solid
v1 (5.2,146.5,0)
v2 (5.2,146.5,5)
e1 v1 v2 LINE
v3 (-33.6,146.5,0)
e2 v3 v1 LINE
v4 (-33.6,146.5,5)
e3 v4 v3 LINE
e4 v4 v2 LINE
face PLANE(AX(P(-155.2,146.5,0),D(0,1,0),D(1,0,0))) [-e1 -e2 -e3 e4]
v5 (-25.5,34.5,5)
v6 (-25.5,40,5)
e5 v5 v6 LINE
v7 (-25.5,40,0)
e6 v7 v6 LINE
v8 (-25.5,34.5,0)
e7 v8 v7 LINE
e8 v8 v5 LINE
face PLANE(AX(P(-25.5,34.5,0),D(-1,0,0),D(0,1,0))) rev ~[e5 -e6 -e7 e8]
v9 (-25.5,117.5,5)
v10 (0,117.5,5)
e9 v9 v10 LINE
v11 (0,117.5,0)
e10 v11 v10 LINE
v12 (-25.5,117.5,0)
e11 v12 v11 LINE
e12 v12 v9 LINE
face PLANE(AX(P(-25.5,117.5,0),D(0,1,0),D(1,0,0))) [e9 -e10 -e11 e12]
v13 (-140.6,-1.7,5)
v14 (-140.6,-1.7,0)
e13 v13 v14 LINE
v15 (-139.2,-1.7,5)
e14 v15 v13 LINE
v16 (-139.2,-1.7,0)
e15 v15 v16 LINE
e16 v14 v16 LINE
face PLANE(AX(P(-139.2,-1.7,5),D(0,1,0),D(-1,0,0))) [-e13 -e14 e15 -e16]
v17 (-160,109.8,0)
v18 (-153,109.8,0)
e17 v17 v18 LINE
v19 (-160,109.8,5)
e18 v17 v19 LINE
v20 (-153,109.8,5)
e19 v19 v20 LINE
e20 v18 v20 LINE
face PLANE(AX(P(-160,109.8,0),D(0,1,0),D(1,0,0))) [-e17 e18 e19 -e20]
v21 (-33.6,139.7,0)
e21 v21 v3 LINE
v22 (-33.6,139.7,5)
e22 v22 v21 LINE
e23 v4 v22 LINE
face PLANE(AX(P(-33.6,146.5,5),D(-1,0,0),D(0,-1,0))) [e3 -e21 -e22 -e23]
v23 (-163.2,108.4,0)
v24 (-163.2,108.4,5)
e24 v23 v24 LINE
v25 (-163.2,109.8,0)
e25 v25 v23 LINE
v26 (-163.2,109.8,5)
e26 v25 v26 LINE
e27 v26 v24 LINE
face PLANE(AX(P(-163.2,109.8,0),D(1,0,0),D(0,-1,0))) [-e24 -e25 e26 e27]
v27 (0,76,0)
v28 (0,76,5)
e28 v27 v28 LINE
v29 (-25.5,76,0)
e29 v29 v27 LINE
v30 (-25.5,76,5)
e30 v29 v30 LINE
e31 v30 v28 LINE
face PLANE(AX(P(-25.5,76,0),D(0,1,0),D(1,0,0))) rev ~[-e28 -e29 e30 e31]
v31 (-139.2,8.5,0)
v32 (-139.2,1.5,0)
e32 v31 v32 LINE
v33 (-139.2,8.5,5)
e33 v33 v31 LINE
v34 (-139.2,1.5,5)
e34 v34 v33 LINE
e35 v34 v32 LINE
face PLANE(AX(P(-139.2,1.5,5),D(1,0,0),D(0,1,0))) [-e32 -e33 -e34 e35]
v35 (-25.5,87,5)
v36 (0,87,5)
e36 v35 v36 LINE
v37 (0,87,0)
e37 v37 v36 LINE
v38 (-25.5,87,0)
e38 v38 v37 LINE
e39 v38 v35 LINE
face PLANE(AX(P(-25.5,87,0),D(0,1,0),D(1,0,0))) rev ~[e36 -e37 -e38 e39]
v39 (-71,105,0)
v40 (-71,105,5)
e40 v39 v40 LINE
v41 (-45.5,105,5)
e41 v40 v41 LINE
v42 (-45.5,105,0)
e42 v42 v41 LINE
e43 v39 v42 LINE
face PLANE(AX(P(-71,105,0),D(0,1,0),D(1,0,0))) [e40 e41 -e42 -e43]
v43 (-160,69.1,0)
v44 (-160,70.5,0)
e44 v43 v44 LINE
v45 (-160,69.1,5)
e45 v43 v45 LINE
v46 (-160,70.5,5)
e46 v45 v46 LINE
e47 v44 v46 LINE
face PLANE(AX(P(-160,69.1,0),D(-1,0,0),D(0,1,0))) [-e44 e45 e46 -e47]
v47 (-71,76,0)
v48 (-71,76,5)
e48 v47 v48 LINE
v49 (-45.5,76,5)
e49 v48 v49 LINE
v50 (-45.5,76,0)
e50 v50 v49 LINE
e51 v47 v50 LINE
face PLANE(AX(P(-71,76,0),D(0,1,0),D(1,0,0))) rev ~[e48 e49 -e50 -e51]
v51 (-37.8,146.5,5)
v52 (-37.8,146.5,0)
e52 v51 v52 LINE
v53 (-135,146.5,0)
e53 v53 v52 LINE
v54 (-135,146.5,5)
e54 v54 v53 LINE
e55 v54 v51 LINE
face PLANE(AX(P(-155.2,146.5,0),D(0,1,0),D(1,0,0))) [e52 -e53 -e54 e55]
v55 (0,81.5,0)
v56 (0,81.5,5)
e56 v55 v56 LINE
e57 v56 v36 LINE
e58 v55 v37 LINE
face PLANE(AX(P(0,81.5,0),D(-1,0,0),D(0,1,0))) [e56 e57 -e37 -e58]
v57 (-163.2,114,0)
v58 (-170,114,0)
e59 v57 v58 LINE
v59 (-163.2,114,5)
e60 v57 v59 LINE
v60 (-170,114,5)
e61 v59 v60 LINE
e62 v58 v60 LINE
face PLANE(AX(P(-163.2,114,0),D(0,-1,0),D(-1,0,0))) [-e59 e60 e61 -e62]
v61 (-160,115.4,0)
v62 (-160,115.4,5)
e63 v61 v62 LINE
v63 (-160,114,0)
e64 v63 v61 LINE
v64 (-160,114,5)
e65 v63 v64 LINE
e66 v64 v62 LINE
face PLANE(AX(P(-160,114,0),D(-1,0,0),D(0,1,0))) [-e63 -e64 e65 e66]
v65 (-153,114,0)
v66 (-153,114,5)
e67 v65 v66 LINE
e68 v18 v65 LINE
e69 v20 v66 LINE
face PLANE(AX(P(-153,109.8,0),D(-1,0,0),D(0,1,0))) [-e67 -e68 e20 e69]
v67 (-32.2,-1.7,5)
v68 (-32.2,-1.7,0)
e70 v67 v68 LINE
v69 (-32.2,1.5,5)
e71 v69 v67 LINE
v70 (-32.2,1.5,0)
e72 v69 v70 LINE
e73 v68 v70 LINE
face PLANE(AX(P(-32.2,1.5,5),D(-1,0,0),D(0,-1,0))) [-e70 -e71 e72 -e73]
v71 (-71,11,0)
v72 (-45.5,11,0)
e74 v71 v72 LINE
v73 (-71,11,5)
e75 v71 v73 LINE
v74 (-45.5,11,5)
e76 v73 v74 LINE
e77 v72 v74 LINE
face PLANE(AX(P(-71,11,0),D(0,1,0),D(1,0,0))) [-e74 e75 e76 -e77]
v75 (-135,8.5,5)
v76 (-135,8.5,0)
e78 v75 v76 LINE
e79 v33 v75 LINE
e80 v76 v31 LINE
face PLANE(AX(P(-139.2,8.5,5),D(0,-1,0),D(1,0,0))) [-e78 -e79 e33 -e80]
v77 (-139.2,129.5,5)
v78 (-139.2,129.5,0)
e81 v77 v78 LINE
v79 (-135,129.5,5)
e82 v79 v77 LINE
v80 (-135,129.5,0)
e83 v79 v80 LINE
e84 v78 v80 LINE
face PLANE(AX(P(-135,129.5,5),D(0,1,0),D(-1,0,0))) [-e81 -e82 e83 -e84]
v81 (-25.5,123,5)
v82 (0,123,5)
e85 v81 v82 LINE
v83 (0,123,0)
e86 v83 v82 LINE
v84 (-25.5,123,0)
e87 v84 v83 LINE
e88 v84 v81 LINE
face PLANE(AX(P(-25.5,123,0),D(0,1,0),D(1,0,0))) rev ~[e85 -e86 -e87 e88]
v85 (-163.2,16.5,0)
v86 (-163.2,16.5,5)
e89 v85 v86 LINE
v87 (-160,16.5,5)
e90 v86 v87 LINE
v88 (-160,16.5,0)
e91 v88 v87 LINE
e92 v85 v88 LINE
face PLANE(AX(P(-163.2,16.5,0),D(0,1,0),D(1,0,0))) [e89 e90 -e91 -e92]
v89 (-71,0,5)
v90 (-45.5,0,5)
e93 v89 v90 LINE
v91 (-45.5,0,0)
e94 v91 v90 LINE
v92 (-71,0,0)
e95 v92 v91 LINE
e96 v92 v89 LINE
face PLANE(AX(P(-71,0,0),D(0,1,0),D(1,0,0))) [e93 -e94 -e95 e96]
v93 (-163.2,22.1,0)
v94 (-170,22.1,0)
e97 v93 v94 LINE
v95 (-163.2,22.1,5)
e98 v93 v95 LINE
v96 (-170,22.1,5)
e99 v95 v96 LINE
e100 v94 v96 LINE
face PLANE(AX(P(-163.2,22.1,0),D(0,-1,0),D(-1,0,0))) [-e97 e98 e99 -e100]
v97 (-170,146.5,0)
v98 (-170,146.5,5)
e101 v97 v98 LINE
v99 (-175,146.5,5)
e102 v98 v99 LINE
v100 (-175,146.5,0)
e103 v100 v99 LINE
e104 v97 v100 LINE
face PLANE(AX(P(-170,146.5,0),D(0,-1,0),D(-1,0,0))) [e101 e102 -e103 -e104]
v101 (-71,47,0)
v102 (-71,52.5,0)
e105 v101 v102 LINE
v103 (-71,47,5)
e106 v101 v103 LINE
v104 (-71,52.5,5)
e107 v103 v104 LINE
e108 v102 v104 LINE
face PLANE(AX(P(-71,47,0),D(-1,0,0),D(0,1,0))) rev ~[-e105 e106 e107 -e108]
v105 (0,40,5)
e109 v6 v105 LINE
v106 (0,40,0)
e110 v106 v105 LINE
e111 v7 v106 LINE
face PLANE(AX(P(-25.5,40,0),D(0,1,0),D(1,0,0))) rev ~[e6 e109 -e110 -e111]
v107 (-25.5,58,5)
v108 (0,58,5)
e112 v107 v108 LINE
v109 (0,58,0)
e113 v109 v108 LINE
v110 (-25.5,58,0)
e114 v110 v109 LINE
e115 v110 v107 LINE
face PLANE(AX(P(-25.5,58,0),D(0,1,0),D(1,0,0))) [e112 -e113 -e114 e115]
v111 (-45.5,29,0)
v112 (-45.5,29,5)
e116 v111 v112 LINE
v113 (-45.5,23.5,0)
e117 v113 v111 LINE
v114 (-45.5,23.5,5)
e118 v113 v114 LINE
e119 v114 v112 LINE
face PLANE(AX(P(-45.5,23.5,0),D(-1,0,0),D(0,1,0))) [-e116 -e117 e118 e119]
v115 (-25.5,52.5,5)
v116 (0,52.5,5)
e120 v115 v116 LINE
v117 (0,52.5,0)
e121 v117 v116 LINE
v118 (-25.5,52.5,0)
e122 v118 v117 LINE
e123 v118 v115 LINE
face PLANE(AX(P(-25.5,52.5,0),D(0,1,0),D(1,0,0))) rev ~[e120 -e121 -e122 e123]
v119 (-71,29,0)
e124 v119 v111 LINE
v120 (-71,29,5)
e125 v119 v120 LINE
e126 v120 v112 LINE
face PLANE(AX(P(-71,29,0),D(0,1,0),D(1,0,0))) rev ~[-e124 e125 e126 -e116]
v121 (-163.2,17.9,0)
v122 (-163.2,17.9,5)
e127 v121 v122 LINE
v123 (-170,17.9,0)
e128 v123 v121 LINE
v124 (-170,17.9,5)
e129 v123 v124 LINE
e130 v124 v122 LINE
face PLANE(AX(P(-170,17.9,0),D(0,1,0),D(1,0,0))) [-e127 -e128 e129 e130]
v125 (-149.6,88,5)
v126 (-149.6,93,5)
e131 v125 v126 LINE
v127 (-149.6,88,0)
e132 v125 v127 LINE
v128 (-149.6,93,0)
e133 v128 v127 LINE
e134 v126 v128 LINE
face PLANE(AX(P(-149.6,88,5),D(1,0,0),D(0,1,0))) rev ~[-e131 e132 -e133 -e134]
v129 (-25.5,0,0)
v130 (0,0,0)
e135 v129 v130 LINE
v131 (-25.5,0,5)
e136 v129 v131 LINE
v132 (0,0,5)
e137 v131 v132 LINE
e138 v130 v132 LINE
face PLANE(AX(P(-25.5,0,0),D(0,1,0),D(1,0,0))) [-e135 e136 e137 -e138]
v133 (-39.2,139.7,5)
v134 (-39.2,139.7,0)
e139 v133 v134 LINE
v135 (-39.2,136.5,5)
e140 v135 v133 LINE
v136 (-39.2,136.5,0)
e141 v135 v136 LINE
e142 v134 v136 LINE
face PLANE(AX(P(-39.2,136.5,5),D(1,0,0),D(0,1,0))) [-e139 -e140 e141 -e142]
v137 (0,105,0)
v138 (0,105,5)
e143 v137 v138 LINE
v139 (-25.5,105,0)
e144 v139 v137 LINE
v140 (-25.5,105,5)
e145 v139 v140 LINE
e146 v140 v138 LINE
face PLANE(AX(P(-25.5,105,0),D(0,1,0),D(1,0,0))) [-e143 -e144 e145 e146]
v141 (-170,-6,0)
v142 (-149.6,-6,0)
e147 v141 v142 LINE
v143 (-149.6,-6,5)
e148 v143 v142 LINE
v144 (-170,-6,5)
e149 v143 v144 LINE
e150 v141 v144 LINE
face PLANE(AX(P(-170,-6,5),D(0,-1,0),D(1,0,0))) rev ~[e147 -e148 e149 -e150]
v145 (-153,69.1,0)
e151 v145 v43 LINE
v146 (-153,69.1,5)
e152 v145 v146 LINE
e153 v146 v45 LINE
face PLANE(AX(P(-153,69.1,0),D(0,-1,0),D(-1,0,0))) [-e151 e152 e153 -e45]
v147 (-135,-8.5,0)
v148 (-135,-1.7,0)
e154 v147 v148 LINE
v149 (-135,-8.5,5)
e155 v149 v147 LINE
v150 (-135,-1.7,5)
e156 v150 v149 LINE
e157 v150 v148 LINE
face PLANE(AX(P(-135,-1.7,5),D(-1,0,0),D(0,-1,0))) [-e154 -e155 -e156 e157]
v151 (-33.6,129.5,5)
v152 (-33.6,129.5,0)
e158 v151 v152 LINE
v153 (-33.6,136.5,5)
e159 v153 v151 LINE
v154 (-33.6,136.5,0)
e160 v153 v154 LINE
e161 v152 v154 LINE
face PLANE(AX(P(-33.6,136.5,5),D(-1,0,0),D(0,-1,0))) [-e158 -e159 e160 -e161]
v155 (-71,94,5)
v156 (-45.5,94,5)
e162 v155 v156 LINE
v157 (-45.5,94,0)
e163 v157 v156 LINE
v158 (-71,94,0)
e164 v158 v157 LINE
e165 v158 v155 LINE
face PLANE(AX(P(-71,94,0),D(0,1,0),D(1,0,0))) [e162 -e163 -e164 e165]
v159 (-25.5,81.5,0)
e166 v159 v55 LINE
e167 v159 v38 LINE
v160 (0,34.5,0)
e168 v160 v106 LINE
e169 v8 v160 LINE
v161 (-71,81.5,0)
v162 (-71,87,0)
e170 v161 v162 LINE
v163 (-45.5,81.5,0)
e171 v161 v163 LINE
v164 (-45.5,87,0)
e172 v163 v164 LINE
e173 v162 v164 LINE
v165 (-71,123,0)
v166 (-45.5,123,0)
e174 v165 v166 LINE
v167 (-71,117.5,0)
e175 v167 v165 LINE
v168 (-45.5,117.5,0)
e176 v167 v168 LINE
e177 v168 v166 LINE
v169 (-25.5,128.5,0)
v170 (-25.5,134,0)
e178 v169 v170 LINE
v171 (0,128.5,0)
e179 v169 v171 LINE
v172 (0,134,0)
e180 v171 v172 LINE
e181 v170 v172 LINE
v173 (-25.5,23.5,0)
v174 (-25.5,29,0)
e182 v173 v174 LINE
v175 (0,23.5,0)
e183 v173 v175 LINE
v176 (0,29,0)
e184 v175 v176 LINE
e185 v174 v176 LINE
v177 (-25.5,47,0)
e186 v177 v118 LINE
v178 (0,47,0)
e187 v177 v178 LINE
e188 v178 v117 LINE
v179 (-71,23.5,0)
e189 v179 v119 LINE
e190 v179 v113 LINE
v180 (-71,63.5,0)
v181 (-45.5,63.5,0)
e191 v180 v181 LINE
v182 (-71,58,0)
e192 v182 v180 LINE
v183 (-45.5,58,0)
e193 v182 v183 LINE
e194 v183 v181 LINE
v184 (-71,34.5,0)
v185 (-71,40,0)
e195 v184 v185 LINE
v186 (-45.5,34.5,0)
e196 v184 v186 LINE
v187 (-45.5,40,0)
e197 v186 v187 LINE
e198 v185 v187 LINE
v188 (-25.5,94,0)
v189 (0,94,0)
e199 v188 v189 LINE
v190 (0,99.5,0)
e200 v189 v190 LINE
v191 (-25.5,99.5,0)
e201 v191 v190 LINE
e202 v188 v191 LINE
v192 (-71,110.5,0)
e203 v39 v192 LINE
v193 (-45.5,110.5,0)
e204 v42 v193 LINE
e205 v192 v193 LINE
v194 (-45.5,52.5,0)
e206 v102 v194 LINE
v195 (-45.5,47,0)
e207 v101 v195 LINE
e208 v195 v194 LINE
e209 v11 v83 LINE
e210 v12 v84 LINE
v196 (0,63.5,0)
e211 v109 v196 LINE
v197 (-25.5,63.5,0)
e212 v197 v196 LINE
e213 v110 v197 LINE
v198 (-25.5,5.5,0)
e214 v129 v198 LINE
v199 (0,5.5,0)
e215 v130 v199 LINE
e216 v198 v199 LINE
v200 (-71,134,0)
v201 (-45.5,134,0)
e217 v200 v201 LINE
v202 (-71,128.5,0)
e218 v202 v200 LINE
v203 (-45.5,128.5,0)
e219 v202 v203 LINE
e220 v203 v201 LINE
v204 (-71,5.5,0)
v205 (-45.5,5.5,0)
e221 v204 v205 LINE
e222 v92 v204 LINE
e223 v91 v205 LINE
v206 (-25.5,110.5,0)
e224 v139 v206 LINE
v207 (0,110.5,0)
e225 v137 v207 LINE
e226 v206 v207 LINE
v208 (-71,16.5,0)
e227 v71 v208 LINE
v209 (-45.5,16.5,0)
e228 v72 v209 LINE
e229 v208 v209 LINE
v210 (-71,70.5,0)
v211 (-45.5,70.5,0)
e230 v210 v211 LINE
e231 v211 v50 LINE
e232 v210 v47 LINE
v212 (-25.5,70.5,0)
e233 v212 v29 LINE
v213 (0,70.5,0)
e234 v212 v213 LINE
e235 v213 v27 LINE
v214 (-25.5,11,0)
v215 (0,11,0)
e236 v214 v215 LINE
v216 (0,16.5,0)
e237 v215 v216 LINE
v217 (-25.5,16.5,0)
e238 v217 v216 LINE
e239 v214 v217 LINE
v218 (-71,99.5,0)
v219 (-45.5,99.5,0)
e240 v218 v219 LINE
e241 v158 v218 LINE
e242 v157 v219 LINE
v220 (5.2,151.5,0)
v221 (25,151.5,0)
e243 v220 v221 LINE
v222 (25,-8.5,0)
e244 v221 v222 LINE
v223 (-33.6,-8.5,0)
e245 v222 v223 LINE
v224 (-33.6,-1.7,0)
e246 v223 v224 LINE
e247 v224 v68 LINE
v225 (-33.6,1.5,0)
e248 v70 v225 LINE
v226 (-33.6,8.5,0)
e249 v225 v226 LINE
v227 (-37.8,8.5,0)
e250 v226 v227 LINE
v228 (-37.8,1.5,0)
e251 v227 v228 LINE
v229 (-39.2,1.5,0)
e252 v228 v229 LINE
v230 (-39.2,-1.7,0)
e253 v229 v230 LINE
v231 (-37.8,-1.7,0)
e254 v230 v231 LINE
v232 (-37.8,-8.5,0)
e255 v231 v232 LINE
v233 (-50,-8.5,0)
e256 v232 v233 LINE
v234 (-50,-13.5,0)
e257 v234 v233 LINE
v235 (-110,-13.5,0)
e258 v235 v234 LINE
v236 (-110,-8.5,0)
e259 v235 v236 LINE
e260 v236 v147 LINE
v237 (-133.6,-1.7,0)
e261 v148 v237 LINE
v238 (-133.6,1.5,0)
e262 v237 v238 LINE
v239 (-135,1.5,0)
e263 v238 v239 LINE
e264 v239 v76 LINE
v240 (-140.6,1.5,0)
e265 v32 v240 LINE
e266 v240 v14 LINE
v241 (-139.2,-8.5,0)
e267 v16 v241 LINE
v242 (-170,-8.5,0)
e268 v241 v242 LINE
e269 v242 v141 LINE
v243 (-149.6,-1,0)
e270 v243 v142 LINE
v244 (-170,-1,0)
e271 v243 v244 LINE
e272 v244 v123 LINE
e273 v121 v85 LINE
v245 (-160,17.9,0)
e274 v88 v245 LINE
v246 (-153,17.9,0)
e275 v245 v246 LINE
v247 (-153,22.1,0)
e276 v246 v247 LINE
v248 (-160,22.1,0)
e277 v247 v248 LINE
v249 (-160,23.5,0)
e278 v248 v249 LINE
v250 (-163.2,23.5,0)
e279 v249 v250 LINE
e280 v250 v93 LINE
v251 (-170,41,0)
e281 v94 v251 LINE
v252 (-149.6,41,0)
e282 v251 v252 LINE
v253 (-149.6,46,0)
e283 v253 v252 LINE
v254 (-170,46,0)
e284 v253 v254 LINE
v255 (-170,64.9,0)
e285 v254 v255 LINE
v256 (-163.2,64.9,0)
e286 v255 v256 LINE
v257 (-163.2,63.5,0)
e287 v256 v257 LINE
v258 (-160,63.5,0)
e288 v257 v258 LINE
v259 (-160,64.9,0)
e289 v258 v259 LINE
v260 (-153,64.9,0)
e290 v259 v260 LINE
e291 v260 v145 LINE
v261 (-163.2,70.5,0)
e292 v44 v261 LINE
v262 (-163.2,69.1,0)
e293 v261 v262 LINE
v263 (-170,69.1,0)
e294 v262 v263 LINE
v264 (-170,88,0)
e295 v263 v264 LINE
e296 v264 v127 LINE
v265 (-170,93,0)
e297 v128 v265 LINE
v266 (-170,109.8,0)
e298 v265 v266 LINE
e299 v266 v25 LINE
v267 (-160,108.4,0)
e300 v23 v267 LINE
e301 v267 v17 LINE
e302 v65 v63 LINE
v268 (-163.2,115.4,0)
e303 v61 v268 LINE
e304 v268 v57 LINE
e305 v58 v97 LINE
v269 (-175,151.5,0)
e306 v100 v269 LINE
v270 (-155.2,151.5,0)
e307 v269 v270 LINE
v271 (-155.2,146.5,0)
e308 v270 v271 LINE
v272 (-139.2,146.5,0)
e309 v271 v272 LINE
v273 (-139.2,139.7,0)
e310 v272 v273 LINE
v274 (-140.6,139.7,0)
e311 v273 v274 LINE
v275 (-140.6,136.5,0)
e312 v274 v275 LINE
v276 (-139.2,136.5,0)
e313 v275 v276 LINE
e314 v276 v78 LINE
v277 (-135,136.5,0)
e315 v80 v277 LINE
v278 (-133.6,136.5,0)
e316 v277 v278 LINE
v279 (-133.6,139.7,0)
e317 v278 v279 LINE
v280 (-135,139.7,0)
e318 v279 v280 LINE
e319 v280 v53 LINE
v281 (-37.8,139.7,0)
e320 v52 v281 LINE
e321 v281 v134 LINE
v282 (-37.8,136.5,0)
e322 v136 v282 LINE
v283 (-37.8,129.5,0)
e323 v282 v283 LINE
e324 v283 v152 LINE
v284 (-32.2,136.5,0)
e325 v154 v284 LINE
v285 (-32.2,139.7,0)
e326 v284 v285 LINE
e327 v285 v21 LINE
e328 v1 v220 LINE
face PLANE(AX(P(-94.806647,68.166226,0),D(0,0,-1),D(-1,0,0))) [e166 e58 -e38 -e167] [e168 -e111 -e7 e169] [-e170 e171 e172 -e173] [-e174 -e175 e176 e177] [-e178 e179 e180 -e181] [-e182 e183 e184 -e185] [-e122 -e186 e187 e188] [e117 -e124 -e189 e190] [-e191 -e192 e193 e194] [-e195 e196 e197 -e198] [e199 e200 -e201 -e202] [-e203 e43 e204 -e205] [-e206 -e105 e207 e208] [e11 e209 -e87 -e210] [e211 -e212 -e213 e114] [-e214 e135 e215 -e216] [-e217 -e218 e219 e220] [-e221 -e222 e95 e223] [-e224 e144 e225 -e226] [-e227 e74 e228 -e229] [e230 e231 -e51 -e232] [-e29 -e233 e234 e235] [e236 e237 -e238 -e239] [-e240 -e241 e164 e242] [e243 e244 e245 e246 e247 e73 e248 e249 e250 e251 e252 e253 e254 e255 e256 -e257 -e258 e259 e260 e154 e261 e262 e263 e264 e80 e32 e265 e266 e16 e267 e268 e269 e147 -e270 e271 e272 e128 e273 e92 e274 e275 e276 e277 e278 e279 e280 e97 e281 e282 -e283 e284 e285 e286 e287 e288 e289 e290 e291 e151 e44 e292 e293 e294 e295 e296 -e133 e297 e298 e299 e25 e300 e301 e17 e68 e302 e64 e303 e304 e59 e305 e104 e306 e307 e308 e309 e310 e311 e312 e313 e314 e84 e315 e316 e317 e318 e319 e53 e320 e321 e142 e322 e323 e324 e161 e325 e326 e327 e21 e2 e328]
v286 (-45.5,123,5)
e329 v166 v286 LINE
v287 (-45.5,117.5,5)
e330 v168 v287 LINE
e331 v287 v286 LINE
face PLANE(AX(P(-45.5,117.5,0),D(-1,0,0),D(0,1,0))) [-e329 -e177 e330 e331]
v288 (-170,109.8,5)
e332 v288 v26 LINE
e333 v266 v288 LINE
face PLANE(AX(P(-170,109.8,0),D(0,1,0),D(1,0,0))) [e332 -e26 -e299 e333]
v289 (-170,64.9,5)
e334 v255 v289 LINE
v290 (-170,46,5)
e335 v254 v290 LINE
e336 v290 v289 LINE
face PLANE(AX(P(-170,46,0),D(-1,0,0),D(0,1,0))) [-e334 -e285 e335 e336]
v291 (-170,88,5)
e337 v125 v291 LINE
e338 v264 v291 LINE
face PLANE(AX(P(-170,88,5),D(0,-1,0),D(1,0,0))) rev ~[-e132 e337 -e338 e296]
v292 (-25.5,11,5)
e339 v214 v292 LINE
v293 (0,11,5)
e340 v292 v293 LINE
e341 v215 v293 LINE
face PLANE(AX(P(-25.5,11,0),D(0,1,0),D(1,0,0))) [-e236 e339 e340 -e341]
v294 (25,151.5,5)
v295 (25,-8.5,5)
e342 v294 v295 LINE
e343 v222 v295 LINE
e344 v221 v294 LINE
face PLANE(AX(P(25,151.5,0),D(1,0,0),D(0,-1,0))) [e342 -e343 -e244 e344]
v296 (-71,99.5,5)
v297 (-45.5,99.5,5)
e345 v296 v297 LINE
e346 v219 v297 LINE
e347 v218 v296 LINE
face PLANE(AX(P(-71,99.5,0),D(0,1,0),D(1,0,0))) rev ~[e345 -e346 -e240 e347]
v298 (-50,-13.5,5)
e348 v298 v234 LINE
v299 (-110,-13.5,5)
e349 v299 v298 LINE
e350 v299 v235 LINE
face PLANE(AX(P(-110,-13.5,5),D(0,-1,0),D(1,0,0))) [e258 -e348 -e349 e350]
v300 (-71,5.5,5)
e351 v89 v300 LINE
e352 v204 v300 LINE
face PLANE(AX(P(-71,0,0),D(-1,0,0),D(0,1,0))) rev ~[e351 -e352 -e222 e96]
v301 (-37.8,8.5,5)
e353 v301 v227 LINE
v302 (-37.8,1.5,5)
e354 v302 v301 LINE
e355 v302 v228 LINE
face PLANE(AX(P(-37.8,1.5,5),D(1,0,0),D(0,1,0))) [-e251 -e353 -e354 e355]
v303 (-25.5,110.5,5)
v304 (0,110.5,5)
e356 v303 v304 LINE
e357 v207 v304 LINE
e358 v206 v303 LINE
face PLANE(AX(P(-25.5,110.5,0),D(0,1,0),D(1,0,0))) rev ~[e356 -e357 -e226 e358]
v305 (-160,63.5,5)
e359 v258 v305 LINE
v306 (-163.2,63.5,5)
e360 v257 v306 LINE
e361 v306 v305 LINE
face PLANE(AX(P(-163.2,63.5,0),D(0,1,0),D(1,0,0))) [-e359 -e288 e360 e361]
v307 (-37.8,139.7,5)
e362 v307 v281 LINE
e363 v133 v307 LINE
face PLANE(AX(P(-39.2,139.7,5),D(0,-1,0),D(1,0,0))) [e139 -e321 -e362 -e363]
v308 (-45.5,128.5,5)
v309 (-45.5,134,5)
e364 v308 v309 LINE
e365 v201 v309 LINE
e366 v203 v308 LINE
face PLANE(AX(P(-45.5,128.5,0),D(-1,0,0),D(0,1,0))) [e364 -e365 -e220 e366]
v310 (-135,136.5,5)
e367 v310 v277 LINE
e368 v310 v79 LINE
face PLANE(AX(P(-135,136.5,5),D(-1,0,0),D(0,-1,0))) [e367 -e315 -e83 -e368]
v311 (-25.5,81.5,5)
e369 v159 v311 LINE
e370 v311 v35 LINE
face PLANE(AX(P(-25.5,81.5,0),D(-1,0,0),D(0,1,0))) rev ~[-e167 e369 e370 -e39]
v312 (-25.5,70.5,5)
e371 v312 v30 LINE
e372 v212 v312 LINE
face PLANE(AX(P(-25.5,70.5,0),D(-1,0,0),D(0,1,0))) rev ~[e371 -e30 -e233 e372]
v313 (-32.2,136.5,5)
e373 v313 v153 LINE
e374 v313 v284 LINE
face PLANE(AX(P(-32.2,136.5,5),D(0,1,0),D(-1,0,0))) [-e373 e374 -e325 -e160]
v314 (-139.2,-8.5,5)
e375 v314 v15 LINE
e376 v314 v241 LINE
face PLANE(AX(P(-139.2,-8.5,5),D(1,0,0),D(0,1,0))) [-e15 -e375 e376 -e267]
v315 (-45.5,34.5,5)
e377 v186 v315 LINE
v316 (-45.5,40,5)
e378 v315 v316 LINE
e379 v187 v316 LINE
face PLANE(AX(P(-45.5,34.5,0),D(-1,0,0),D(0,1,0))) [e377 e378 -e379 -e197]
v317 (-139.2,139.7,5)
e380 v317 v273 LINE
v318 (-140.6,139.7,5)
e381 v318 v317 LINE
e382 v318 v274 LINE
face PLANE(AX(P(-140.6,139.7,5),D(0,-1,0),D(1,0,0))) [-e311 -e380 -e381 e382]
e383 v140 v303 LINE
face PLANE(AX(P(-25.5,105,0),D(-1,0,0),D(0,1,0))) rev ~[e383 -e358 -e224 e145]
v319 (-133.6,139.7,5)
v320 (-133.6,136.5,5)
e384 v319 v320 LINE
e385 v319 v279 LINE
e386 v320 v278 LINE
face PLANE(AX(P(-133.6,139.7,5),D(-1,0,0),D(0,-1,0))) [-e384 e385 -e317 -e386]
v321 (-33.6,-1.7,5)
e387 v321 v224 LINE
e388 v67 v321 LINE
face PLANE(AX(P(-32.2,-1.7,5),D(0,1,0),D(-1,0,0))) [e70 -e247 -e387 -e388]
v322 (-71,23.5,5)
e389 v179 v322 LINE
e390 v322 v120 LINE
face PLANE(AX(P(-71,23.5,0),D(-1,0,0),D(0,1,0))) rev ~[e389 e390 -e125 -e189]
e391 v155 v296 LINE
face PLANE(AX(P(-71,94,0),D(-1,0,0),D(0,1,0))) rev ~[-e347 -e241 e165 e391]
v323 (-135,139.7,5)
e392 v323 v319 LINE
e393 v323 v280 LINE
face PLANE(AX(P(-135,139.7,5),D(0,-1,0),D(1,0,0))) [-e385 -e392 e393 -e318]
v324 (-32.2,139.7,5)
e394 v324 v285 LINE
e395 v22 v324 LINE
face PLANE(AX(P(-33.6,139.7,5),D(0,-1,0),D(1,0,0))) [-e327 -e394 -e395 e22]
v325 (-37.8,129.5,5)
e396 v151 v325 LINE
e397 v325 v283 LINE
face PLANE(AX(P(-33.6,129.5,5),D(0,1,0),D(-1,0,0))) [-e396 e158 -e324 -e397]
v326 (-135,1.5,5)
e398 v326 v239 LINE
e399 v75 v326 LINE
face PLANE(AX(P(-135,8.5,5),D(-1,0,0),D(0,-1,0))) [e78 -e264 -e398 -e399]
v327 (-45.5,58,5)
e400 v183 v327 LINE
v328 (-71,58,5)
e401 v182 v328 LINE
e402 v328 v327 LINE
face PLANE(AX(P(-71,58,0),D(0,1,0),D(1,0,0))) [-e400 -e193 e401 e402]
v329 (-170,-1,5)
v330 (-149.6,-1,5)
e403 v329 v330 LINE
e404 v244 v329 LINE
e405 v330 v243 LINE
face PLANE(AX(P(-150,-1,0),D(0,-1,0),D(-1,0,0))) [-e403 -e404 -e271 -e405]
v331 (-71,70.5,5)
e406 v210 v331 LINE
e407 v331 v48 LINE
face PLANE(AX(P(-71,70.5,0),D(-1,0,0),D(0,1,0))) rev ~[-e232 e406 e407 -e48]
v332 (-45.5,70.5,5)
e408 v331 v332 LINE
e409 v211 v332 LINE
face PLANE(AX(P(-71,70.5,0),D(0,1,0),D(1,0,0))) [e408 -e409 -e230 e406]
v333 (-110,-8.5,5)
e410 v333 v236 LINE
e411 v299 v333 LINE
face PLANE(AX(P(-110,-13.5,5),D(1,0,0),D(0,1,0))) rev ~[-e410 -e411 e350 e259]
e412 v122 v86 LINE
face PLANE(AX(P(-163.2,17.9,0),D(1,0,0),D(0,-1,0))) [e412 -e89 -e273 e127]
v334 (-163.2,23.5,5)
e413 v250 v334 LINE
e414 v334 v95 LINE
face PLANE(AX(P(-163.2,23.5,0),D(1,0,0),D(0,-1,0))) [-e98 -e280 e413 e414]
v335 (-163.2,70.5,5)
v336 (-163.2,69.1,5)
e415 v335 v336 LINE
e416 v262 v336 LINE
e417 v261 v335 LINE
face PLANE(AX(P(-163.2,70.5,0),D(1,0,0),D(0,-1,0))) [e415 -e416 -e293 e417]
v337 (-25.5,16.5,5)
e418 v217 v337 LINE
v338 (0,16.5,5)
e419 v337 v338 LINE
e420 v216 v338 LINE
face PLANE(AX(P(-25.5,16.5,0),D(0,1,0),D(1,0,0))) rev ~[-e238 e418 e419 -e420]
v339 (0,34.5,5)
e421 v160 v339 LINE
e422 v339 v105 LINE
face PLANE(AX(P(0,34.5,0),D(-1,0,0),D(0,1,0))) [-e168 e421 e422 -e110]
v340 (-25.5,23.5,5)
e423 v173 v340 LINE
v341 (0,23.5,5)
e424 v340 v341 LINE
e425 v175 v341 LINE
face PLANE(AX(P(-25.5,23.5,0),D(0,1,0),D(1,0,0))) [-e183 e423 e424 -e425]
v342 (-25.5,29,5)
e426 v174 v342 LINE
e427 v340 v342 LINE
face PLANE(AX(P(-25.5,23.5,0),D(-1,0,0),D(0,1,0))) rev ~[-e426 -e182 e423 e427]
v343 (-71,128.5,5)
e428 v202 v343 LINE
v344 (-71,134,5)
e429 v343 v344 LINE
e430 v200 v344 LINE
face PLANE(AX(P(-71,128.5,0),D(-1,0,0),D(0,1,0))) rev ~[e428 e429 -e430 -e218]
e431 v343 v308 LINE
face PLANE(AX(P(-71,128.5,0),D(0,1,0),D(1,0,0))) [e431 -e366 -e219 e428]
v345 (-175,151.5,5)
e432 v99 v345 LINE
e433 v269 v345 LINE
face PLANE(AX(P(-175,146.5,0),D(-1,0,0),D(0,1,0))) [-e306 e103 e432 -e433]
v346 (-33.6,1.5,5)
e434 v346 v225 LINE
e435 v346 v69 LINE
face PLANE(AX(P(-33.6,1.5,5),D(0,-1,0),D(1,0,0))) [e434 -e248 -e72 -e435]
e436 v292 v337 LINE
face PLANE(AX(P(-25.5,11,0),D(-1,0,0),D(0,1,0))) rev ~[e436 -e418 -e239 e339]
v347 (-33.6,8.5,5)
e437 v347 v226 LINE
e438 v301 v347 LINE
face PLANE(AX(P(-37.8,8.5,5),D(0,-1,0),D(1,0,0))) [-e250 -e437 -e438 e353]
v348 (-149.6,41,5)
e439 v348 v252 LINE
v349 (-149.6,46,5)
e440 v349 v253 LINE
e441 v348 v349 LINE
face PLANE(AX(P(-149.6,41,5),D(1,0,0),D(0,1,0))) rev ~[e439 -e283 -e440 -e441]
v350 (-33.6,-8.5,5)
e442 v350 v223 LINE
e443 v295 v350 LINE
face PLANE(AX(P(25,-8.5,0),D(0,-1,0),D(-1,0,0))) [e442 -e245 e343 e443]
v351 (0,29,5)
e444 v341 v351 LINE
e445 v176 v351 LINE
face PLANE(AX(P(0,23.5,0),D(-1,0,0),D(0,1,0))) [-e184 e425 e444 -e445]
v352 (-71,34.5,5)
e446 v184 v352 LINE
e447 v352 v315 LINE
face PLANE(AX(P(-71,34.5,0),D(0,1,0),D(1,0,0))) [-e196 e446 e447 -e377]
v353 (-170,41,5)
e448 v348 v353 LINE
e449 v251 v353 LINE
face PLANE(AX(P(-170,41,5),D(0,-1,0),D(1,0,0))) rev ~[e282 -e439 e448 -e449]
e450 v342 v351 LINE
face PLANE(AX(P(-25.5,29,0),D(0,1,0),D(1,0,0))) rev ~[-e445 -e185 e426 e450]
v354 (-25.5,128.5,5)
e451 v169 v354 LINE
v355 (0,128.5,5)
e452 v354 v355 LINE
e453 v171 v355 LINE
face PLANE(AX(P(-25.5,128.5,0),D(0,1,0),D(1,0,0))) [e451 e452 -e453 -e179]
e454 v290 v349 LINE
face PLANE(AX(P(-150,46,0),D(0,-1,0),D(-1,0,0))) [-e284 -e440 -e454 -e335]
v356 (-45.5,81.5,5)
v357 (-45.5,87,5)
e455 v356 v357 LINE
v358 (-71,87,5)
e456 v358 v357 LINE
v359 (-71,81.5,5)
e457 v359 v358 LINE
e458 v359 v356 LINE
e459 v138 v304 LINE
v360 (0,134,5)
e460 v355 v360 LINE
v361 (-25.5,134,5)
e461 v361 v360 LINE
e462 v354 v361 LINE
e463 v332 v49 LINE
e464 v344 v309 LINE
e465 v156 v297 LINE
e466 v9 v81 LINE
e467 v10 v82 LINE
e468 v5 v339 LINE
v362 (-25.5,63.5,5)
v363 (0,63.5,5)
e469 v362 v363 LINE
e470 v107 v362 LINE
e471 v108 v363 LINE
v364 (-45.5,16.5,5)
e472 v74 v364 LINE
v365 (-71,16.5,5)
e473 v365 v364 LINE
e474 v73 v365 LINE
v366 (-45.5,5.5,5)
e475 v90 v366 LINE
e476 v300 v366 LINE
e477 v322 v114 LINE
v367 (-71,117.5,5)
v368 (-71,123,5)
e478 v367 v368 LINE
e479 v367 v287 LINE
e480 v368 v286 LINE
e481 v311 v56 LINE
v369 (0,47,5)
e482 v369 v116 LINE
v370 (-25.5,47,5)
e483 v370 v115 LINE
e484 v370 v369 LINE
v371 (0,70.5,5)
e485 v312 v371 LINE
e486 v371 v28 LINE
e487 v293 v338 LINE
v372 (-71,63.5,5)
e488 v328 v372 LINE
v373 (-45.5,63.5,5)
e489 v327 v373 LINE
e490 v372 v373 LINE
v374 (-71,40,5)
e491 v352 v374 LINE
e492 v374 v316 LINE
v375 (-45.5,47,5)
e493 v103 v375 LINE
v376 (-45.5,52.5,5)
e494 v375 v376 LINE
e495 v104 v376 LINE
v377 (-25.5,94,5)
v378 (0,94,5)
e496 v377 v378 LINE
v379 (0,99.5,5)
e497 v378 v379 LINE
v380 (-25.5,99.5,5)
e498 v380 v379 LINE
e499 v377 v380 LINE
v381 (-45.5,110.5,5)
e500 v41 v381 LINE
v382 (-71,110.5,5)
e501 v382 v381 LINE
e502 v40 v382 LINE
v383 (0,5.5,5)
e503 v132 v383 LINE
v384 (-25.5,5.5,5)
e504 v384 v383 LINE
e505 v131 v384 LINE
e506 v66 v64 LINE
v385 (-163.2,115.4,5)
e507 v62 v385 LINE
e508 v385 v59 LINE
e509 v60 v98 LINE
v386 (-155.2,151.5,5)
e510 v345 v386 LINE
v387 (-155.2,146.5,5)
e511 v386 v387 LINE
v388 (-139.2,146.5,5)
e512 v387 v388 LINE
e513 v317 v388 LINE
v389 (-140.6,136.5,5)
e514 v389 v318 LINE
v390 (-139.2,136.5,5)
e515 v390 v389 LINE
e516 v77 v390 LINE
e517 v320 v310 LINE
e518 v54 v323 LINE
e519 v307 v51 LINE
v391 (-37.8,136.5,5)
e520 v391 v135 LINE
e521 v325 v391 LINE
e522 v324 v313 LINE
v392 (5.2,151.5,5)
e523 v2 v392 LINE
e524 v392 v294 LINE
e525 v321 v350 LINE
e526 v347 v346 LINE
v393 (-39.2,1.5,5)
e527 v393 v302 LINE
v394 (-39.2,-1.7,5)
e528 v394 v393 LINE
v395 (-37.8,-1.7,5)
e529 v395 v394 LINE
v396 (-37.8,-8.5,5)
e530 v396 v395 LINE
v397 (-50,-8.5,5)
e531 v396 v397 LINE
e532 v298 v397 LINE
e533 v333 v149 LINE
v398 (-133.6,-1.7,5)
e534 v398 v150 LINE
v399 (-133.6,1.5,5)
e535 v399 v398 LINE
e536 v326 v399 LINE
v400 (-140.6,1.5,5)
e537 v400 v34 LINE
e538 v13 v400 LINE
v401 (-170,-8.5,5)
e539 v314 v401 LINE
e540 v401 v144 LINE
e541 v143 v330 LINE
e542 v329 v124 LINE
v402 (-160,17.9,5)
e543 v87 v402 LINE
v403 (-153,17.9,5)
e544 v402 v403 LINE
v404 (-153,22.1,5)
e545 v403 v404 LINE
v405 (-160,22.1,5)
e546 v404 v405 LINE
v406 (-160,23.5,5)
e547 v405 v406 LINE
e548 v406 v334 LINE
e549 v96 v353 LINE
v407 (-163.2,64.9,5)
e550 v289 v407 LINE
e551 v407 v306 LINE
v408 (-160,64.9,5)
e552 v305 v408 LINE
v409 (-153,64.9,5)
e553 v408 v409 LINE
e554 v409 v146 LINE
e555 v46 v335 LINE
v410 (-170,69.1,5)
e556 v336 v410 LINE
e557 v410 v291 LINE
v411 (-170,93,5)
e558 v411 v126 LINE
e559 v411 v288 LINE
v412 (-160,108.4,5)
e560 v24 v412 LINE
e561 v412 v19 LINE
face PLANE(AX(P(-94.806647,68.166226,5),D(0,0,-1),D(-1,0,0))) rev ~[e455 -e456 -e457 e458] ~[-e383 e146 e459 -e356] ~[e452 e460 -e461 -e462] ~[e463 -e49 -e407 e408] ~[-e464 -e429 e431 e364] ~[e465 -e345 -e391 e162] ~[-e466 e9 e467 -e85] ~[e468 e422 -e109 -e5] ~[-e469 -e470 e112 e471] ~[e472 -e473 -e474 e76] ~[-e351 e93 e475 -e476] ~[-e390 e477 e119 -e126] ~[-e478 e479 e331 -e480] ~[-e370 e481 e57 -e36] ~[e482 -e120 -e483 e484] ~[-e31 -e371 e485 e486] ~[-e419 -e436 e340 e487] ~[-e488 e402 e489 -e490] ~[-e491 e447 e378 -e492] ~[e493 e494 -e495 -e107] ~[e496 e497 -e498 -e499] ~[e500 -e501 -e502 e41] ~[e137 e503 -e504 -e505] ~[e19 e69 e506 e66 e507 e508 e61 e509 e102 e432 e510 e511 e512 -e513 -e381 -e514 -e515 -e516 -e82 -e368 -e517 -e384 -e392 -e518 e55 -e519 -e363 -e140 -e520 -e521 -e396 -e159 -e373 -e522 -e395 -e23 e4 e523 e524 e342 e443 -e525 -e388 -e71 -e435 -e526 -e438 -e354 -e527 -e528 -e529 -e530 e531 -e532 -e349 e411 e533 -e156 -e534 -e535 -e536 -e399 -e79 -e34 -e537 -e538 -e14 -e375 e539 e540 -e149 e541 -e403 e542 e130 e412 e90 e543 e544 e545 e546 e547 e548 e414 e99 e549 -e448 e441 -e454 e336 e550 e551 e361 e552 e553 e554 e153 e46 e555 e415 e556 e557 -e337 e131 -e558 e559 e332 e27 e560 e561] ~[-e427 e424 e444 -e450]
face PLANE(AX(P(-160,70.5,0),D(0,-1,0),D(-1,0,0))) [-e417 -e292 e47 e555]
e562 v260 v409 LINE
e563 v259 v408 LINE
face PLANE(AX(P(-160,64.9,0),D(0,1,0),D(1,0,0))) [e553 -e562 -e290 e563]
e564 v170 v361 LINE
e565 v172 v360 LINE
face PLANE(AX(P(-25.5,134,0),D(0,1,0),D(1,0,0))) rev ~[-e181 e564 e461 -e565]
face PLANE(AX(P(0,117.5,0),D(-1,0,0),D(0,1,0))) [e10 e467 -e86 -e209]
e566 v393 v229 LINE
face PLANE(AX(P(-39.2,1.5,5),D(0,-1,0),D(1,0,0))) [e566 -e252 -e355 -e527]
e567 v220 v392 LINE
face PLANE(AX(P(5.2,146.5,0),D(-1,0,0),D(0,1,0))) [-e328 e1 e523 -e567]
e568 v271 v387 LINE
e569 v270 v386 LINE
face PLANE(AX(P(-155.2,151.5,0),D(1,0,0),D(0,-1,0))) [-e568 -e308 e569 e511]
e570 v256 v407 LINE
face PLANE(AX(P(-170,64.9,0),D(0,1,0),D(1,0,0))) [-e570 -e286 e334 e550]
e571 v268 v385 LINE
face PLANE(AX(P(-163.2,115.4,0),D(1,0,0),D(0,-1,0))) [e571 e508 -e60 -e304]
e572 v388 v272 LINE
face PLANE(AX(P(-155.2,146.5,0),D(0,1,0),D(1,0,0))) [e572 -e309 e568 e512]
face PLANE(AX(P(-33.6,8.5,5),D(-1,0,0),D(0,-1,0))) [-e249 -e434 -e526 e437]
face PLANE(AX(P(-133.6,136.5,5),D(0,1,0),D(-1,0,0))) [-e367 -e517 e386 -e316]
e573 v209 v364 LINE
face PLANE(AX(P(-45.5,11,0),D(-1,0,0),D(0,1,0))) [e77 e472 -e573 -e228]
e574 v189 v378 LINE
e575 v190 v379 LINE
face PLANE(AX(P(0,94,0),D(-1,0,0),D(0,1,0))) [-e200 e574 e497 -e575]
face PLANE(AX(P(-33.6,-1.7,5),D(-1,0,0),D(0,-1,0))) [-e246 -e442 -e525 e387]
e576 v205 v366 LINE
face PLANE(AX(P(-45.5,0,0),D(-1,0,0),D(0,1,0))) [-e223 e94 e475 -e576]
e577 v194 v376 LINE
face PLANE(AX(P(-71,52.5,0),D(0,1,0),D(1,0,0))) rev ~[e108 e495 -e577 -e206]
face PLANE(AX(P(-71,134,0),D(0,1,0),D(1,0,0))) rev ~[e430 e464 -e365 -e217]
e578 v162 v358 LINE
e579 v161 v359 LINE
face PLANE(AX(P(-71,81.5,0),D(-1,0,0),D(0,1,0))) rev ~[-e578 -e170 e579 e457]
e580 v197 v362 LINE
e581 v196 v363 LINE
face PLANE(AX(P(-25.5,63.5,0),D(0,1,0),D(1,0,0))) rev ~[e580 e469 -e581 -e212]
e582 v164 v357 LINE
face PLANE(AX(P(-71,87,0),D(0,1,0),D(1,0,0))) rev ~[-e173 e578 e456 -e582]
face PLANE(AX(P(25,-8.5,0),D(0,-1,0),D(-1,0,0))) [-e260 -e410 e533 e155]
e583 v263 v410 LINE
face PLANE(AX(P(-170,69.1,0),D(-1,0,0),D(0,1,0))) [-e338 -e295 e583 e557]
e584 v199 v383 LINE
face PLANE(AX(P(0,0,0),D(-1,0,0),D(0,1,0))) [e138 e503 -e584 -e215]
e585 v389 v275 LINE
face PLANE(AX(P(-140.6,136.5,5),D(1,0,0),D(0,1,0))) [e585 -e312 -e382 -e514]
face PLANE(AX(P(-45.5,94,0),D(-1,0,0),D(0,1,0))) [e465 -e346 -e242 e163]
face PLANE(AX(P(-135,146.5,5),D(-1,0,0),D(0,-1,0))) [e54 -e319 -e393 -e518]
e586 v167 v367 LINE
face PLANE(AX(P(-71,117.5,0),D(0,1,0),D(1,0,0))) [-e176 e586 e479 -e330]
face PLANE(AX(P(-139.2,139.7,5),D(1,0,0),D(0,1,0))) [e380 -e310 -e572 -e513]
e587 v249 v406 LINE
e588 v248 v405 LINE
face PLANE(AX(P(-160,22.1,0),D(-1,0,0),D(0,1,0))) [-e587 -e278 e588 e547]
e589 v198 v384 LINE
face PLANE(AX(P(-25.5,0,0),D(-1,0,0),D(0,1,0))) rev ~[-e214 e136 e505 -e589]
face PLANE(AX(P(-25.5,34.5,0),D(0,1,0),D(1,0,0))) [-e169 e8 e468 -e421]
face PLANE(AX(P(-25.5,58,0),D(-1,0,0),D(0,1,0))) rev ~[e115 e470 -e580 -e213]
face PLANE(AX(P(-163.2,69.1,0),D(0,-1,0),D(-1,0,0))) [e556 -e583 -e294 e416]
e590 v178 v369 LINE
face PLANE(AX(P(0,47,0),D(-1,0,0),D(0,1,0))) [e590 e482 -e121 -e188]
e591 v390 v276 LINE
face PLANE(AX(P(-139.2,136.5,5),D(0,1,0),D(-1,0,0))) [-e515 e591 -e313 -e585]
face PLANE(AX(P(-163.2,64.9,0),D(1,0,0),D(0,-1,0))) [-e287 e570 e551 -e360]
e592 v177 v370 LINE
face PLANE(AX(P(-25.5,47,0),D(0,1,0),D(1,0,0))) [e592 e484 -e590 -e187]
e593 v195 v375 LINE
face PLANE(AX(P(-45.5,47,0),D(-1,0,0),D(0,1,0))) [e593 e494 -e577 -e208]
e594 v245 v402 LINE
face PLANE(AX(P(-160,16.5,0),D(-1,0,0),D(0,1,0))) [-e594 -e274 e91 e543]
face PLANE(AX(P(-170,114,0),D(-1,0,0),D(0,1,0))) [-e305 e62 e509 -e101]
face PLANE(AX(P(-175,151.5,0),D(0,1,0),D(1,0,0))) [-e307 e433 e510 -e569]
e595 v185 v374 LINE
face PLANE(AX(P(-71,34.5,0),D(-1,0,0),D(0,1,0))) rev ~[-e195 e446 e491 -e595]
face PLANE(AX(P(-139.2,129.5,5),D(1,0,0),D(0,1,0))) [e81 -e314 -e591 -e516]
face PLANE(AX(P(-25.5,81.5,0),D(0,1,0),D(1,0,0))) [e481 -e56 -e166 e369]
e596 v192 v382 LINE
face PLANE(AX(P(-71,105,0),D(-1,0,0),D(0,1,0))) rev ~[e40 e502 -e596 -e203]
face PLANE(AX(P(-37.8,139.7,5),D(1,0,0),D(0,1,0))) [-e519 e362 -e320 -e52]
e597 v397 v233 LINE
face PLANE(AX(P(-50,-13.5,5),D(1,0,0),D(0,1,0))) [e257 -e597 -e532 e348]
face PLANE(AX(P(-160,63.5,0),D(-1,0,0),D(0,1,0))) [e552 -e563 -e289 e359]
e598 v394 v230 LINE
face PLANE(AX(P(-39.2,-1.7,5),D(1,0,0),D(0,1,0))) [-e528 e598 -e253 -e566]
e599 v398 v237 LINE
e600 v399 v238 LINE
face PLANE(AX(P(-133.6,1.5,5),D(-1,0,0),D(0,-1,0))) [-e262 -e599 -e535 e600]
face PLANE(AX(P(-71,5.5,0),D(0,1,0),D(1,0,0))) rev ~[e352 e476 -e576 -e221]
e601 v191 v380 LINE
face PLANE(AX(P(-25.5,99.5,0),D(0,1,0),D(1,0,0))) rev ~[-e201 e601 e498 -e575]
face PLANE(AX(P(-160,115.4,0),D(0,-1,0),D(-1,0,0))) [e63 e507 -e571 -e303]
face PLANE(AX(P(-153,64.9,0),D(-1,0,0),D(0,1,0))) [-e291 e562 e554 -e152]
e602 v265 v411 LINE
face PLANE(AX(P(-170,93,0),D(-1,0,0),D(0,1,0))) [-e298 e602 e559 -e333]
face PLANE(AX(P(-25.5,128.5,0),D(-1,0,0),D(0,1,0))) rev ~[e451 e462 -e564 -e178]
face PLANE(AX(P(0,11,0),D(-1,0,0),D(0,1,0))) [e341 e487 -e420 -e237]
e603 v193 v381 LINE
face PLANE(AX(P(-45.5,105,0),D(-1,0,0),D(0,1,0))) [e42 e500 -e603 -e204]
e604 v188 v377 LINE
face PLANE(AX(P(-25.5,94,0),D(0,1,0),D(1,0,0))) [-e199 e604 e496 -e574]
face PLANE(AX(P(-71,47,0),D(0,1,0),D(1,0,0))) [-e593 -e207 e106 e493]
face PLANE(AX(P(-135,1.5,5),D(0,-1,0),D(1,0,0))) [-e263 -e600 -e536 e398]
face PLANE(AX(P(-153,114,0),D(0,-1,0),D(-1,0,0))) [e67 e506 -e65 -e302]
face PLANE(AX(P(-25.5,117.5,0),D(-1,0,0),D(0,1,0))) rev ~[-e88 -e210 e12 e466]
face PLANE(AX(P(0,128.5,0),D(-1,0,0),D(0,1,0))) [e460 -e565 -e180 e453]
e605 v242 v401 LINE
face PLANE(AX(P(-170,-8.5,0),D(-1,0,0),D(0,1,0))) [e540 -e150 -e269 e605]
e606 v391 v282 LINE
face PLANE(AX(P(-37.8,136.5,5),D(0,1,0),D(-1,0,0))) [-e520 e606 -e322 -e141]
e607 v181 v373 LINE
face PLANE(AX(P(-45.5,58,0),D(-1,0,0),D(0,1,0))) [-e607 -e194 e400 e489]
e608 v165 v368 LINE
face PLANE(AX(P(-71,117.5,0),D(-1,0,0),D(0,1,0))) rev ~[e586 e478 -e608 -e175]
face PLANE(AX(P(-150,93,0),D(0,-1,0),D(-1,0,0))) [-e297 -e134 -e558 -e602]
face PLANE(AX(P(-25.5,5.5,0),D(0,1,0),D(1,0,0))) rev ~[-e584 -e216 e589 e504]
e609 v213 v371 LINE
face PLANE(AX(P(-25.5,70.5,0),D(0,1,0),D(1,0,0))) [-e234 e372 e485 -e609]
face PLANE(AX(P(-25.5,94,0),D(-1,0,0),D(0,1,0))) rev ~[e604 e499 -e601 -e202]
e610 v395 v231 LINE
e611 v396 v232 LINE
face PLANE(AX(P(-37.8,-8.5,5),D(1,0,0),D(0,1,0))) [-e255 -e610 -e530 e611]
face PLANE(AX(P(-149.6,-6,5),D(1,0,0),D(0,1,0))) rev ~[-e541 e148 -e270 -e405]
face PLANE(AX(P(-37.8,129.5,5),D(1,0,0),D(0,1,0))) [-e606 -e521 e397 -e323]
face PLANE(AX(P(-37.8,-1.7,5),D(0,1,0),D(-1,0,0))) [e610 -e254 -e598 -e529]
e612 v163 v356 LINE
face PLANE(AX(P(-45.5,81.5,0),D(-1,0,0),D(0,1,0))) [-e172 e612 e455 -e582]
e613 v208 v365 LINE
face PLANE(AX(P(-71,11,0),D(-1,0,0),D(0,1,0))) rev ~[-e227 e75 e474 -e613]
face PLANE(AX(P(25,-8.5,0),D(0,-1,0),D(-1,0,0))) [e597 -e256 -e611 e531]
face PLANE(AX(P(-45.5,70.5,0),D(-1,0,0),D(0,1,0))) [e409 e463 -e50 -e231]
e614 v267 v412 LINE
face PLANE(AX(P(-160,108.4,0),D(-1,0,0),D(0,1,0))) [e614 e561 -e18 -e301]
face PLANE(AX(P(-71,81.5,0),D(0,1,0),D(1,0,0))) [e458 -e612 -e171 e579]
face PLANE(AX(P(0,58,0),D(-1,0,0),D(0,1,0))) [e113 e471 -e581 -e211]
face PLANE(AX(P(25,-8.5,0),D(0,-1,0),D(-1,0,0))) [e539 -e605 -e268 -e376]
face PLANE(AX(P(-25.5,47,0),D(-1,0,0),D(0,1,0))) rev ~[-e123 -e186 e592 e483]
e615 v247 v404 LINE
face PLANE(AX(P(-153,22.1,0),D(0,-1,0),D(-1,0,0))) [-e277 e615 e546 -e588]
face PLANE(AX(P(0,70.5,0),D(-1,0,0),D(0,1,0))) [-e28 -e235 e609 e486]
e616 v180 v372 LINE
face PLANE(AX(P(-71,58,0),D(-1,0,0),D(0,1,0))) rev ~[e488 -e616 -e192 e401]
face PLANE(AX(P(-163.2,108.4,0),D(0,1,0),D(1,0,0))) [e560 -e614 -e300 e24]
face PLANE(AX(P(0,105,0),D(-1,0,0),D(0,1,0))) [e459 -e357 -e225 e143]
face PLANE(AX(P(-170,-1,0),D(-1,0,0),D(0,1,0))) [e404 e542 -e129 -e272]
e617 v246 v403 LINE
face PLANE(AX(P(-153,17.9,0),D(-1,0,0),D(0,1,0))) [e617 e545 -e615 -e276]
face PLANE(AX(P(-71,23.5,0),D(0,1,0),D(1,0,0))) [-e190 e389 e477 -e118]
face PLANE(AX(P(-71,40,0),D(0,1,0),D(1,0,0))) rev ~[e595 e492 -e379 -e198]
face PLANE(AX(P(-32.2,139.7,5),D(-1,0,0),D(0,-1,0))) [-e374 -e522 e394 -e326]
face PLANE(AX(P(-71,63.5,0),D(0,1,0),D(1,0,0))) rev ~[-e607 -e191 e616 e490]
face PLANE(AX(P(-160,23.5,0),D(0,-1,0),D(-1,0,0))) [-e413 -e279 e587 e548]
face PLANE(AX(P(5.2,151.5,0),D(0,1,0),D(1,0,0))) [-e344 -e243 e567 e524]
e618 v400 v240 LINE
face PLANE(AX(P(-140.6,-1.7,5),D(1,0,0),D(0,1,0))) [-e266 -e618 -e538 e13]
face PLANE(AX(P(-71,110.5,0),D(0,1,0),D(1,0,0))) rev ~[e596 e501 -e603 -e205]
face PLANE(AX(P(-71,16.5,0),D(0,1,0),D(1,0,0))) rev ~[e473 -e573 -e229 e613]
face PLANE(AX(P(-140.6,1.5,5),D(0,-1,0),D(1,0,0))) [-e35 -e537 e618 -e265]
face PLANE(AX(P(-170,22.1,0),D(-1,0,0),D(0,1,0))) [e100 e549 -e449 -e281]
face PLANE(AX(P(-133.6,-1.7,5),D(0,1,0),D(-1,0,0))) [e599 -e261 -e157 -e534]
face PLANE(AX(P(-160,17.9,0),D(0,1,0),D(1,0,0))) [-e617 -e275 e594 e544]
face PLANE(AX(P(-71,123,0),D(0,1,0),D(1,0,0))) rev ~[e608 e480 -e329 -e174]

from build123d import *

# Parameters (mm, degrees)
SKETCH1_W           = 25.5
SKETCH1_H           = 5.5
BOSS_EXTRUDE1_DEPTH = 5
CUT_EXTRUDE3_DEPTH  = 10
SKETCH5_W           = 60
SKETCH5_H           = 5
BOSS_EXTRUDE2_DEPTH = 5
SKETCH6_W           = 20.4
SKETCH6_H           = 5
CUT_EXTRUDE4_DEPTH  = 10


with BuildPart() as part:
    # Sketch1 → Boss-Extrude1 (new body)
    with BuildSketch(Plane.XY):
        Polygon((-155.2, 151.5), (-155.2, 146.5), (5.2, 146.5), (5.2, 151.5), (25, 151.5), (25, -8.5), (-170, -8.5), (-170, -6), (-150, -6), (-150, -1), (-170, -1), (-170, 17.9), (-163.2, 17.9), (-163.2, 16.5), (-160, 16.5), (-160, 17.9), (-153, 17.9), (-153, 22.1), (-160, 22.1), (-160, 23.5), (-163.2, 23.5), (-163.2, 22.1), (-170, 22.1), (-170, 41), (-150, 41), (-150, 46), (-170, 46), (-170, 64.9), (-163.2, 64.9), (-163.2, 63.5), (-160, 63.5), (-160, 64.9), (-153, 64.9), (-153, 69.1), (-160, 69.1), (-160, 70.5), (-163.2, 70.5), (-163.2, 69.1), (-170, 69.1), (-170, 88), (-150, 88), (-150, 93), (-170, 93), (-170, 109.8), (-163.2, 109.8), (-163.2, 108.4), (-160, 108.4), (-160, 109.8), (-153, 109.8), (-153, 114), (-160, 114), (-160, 115.4), (-163.2, 115.4), (-163.2, 114), (-170, 114), (-170, 146.5), (-175, 146.5), (-175, 151.5), align=None)
        with Locations((-58.25, 13.75)):
            Rectangle(SKETCH1_W, SKETCH1_H, mode=Mode.SUBTRACT)
        with Locations((-12.75, 2.75)):
            Rectangle(SKETCH1_W, SKETCH1_H, mode=Mode.SUBTRACT)
        with Locations((-58.25, 2.75)):
            Rectangle(SKETCH1_W, SKETCH1_H, mode=Mode.SUBTRACT)
        with Locations((-12.75, 13.75)):
            Rectangle(SKETCH1_W, SKETCH1_H, mode=Mode.SUBTRACT)
        with Locations((-12.75, 26.25)):
            Rectangle(SKETCH1_W, SKETCH1_H, mode=Mode.SUBTRACT)
        with Locations((-58.25, 26.25)):
            Rectangle(SKETCH1_W, SKETCH1_H, mode=Mode.SUBTRACT)
        with Locations((-58.25, 37.25)):
            Rectangle(SKETCH1_W, SKETCH1_H, mode=Mode.SUBTRACT)
        with Locations((-12.75, 37.25)):
            Rectangle(SKETCH1_W, SKETCH1_H, mode=Mode.SUBTRACT)
        with Locations((-12.75, 49.75)):
            Rectangle(SKETCH1_W, SKETCH1_H, mode=Mode.SUBTRACT)
        with Locations((-58.25, 49.75)):
            Rectangle(SKETCH1_W, SKETCH1_H, mode=Mode.SUBTRACT)
        with Locations((-58.25, 60.75)):
            Rectangle(SKETCH1_W, SKETCH1_H, mode=Mode.SUBTRACT)
        with Locations((-12.75, 60.75)):
            Rectangle(SKETCH1_W, SKETCH1_H, mode=Mode.SUBTRACT)
        with Locations((-12.75, 73.25)):
            Rectangle(SKETCH1_W, SKETCH1_H, mode=Mode.SUBTRACT)
        with Locations((-58.25, 73.25)):
            Rectangle(SKETCH1_W, SKETCH1_H, mode=Mode.SUBTRACT)
        with Locations((-58.25, 84.25)):
            Rectangle(SKETCH1_W, SKETCH1_H, mode=Mode.SUBTRACT)
        with Locations((-12.75, 84.25)):
            Rectangle(SKETCH1_W, SKETCH1_H, mode=Mode.SUBTRACT)
        with Locations((-12.75, 96.75)):
            Rectangle(SKETCH1_W, SKETCH1_H, mode=Mode.SUBTRACT)
        with Locations((-58.25, 96.75)):
            Rectangle(SKETCH1_W, SKETCH1_H, mode=Mode.SUBTRACT)
        with Locations((-58.25, 107.75)):
            Rectangle(SKETCH1_W, SKETCH1_H, mode=Mode.SUBTRACT)
        with Locations((-12.75, 107.75)):
            Rectangle(SKETCH1_W, SKETCH1_H, mode=Mode.SUBTRACT)
        with Locations((-12.75, 120.25)):
            Rectangle(SKETCH1_W, SKETCH1_H, mode=Mode.SUBTRACT)
        with Locations((-58.25, 120.25)):
            Rectangle(SKETCH1_W, SKETCH1_H, mode=Mode.SUBTRACT)
        with Locations((-58.25, 131.25)):
            Rectangle(SKETCH1_W, SKETCH1_H, mode=Mode.SUBTRACT)
        with Locations((-12.75, 131.25)):
            Rectangle(SKETCH1_W, SKETCH1_H, mode=Mode.SUBTRACT)
    extrude(amount=BOSS_EXTRUDE1_DEPTH)

    # Sketch4 → Cut-Extrude3 (cut)
    with BuildSketch(Plane.XY.offset(5)):
        Polygon((-33.6, 146.5), (-33.6, 139.7), (-32.2, 139.7), (-32.2, 136.5), (-33.6, 136.5), (-33.6, 129.5), (-37.8, 129.5), (-37.8, 136.5), (-39.2, 136.5), (-39.2, 139.7), (-37.8, 139.7), (-37.8, 146.5), align=None)
        Polygon((-135, 129.5), (-139.2, 129.5), (-139.2, 136.5), (-140.6, 136.5), (-140.6, 139.7), (-139.2, 139.7), (-139.2, 146.5), (-135, 146.5), (-135, 139.7), (-133.6, 139.7), (-133.6, 136.5), (-135, 136.5), align=None)
        Polygon((-33.6, -8.5), (-37.8, -8.5), (-37.8, -1.7), (-39.2, -1.7), (-39.2, 1.5), (-37.8, 1.5), (-37.8, 8.5), (-33.6, 8.5), (-33.6, 1.5), (-32.2, 1.5), (-32.2, -1.7), (-33.6, -1.7), align=None)
        Polygon((-135, -8.5), (-139.2, -8.5), (-139.2, -1.7), (-140.6, -1.7), (-140.6, 1.5), (-139.2, 1.5), (-139.2, 8.5), (-135, 8.5), (-135, 1.5), (-133.6, 1.5), (-133.6, -1.7), (-135, -1.7), align=None)
    extrude(amount=-CUT_EXTRUDE3_DEPTH, mode=Mode.SUBTRACT)

    # Sketch5 → Boss-Extrude2 (add)
    with BuildSketch(Plane.XY.offset(5)):
        with Locations((-80, -11)):
            Rectangle(SKETCH5_W, SKETCH5_H)
    extrude(amount=-BOSS_EXTRUDE2_DEPTH)

    # Sketch6 → Cut-Extrude4 (cut)
    with BuildSketch(Plane.XY.offset(5)):
        with Locations((-159.8, -3.5)):
            Rectangle(SKETCH6_W, SKETCH6_H)
        with Locations((-159.8, 43.5)):
            Rectangle(SKETCH6_W, SKETCH6_H)
        with Locations((-159.8, 90.5)):
            Rectangle(SKETCH6_W, SKETCH6_H)
    extrude(amount=-CUT_EXTRUDE4_DEPTH, mode=Mode.SUBTRACT)


solid = part.part
